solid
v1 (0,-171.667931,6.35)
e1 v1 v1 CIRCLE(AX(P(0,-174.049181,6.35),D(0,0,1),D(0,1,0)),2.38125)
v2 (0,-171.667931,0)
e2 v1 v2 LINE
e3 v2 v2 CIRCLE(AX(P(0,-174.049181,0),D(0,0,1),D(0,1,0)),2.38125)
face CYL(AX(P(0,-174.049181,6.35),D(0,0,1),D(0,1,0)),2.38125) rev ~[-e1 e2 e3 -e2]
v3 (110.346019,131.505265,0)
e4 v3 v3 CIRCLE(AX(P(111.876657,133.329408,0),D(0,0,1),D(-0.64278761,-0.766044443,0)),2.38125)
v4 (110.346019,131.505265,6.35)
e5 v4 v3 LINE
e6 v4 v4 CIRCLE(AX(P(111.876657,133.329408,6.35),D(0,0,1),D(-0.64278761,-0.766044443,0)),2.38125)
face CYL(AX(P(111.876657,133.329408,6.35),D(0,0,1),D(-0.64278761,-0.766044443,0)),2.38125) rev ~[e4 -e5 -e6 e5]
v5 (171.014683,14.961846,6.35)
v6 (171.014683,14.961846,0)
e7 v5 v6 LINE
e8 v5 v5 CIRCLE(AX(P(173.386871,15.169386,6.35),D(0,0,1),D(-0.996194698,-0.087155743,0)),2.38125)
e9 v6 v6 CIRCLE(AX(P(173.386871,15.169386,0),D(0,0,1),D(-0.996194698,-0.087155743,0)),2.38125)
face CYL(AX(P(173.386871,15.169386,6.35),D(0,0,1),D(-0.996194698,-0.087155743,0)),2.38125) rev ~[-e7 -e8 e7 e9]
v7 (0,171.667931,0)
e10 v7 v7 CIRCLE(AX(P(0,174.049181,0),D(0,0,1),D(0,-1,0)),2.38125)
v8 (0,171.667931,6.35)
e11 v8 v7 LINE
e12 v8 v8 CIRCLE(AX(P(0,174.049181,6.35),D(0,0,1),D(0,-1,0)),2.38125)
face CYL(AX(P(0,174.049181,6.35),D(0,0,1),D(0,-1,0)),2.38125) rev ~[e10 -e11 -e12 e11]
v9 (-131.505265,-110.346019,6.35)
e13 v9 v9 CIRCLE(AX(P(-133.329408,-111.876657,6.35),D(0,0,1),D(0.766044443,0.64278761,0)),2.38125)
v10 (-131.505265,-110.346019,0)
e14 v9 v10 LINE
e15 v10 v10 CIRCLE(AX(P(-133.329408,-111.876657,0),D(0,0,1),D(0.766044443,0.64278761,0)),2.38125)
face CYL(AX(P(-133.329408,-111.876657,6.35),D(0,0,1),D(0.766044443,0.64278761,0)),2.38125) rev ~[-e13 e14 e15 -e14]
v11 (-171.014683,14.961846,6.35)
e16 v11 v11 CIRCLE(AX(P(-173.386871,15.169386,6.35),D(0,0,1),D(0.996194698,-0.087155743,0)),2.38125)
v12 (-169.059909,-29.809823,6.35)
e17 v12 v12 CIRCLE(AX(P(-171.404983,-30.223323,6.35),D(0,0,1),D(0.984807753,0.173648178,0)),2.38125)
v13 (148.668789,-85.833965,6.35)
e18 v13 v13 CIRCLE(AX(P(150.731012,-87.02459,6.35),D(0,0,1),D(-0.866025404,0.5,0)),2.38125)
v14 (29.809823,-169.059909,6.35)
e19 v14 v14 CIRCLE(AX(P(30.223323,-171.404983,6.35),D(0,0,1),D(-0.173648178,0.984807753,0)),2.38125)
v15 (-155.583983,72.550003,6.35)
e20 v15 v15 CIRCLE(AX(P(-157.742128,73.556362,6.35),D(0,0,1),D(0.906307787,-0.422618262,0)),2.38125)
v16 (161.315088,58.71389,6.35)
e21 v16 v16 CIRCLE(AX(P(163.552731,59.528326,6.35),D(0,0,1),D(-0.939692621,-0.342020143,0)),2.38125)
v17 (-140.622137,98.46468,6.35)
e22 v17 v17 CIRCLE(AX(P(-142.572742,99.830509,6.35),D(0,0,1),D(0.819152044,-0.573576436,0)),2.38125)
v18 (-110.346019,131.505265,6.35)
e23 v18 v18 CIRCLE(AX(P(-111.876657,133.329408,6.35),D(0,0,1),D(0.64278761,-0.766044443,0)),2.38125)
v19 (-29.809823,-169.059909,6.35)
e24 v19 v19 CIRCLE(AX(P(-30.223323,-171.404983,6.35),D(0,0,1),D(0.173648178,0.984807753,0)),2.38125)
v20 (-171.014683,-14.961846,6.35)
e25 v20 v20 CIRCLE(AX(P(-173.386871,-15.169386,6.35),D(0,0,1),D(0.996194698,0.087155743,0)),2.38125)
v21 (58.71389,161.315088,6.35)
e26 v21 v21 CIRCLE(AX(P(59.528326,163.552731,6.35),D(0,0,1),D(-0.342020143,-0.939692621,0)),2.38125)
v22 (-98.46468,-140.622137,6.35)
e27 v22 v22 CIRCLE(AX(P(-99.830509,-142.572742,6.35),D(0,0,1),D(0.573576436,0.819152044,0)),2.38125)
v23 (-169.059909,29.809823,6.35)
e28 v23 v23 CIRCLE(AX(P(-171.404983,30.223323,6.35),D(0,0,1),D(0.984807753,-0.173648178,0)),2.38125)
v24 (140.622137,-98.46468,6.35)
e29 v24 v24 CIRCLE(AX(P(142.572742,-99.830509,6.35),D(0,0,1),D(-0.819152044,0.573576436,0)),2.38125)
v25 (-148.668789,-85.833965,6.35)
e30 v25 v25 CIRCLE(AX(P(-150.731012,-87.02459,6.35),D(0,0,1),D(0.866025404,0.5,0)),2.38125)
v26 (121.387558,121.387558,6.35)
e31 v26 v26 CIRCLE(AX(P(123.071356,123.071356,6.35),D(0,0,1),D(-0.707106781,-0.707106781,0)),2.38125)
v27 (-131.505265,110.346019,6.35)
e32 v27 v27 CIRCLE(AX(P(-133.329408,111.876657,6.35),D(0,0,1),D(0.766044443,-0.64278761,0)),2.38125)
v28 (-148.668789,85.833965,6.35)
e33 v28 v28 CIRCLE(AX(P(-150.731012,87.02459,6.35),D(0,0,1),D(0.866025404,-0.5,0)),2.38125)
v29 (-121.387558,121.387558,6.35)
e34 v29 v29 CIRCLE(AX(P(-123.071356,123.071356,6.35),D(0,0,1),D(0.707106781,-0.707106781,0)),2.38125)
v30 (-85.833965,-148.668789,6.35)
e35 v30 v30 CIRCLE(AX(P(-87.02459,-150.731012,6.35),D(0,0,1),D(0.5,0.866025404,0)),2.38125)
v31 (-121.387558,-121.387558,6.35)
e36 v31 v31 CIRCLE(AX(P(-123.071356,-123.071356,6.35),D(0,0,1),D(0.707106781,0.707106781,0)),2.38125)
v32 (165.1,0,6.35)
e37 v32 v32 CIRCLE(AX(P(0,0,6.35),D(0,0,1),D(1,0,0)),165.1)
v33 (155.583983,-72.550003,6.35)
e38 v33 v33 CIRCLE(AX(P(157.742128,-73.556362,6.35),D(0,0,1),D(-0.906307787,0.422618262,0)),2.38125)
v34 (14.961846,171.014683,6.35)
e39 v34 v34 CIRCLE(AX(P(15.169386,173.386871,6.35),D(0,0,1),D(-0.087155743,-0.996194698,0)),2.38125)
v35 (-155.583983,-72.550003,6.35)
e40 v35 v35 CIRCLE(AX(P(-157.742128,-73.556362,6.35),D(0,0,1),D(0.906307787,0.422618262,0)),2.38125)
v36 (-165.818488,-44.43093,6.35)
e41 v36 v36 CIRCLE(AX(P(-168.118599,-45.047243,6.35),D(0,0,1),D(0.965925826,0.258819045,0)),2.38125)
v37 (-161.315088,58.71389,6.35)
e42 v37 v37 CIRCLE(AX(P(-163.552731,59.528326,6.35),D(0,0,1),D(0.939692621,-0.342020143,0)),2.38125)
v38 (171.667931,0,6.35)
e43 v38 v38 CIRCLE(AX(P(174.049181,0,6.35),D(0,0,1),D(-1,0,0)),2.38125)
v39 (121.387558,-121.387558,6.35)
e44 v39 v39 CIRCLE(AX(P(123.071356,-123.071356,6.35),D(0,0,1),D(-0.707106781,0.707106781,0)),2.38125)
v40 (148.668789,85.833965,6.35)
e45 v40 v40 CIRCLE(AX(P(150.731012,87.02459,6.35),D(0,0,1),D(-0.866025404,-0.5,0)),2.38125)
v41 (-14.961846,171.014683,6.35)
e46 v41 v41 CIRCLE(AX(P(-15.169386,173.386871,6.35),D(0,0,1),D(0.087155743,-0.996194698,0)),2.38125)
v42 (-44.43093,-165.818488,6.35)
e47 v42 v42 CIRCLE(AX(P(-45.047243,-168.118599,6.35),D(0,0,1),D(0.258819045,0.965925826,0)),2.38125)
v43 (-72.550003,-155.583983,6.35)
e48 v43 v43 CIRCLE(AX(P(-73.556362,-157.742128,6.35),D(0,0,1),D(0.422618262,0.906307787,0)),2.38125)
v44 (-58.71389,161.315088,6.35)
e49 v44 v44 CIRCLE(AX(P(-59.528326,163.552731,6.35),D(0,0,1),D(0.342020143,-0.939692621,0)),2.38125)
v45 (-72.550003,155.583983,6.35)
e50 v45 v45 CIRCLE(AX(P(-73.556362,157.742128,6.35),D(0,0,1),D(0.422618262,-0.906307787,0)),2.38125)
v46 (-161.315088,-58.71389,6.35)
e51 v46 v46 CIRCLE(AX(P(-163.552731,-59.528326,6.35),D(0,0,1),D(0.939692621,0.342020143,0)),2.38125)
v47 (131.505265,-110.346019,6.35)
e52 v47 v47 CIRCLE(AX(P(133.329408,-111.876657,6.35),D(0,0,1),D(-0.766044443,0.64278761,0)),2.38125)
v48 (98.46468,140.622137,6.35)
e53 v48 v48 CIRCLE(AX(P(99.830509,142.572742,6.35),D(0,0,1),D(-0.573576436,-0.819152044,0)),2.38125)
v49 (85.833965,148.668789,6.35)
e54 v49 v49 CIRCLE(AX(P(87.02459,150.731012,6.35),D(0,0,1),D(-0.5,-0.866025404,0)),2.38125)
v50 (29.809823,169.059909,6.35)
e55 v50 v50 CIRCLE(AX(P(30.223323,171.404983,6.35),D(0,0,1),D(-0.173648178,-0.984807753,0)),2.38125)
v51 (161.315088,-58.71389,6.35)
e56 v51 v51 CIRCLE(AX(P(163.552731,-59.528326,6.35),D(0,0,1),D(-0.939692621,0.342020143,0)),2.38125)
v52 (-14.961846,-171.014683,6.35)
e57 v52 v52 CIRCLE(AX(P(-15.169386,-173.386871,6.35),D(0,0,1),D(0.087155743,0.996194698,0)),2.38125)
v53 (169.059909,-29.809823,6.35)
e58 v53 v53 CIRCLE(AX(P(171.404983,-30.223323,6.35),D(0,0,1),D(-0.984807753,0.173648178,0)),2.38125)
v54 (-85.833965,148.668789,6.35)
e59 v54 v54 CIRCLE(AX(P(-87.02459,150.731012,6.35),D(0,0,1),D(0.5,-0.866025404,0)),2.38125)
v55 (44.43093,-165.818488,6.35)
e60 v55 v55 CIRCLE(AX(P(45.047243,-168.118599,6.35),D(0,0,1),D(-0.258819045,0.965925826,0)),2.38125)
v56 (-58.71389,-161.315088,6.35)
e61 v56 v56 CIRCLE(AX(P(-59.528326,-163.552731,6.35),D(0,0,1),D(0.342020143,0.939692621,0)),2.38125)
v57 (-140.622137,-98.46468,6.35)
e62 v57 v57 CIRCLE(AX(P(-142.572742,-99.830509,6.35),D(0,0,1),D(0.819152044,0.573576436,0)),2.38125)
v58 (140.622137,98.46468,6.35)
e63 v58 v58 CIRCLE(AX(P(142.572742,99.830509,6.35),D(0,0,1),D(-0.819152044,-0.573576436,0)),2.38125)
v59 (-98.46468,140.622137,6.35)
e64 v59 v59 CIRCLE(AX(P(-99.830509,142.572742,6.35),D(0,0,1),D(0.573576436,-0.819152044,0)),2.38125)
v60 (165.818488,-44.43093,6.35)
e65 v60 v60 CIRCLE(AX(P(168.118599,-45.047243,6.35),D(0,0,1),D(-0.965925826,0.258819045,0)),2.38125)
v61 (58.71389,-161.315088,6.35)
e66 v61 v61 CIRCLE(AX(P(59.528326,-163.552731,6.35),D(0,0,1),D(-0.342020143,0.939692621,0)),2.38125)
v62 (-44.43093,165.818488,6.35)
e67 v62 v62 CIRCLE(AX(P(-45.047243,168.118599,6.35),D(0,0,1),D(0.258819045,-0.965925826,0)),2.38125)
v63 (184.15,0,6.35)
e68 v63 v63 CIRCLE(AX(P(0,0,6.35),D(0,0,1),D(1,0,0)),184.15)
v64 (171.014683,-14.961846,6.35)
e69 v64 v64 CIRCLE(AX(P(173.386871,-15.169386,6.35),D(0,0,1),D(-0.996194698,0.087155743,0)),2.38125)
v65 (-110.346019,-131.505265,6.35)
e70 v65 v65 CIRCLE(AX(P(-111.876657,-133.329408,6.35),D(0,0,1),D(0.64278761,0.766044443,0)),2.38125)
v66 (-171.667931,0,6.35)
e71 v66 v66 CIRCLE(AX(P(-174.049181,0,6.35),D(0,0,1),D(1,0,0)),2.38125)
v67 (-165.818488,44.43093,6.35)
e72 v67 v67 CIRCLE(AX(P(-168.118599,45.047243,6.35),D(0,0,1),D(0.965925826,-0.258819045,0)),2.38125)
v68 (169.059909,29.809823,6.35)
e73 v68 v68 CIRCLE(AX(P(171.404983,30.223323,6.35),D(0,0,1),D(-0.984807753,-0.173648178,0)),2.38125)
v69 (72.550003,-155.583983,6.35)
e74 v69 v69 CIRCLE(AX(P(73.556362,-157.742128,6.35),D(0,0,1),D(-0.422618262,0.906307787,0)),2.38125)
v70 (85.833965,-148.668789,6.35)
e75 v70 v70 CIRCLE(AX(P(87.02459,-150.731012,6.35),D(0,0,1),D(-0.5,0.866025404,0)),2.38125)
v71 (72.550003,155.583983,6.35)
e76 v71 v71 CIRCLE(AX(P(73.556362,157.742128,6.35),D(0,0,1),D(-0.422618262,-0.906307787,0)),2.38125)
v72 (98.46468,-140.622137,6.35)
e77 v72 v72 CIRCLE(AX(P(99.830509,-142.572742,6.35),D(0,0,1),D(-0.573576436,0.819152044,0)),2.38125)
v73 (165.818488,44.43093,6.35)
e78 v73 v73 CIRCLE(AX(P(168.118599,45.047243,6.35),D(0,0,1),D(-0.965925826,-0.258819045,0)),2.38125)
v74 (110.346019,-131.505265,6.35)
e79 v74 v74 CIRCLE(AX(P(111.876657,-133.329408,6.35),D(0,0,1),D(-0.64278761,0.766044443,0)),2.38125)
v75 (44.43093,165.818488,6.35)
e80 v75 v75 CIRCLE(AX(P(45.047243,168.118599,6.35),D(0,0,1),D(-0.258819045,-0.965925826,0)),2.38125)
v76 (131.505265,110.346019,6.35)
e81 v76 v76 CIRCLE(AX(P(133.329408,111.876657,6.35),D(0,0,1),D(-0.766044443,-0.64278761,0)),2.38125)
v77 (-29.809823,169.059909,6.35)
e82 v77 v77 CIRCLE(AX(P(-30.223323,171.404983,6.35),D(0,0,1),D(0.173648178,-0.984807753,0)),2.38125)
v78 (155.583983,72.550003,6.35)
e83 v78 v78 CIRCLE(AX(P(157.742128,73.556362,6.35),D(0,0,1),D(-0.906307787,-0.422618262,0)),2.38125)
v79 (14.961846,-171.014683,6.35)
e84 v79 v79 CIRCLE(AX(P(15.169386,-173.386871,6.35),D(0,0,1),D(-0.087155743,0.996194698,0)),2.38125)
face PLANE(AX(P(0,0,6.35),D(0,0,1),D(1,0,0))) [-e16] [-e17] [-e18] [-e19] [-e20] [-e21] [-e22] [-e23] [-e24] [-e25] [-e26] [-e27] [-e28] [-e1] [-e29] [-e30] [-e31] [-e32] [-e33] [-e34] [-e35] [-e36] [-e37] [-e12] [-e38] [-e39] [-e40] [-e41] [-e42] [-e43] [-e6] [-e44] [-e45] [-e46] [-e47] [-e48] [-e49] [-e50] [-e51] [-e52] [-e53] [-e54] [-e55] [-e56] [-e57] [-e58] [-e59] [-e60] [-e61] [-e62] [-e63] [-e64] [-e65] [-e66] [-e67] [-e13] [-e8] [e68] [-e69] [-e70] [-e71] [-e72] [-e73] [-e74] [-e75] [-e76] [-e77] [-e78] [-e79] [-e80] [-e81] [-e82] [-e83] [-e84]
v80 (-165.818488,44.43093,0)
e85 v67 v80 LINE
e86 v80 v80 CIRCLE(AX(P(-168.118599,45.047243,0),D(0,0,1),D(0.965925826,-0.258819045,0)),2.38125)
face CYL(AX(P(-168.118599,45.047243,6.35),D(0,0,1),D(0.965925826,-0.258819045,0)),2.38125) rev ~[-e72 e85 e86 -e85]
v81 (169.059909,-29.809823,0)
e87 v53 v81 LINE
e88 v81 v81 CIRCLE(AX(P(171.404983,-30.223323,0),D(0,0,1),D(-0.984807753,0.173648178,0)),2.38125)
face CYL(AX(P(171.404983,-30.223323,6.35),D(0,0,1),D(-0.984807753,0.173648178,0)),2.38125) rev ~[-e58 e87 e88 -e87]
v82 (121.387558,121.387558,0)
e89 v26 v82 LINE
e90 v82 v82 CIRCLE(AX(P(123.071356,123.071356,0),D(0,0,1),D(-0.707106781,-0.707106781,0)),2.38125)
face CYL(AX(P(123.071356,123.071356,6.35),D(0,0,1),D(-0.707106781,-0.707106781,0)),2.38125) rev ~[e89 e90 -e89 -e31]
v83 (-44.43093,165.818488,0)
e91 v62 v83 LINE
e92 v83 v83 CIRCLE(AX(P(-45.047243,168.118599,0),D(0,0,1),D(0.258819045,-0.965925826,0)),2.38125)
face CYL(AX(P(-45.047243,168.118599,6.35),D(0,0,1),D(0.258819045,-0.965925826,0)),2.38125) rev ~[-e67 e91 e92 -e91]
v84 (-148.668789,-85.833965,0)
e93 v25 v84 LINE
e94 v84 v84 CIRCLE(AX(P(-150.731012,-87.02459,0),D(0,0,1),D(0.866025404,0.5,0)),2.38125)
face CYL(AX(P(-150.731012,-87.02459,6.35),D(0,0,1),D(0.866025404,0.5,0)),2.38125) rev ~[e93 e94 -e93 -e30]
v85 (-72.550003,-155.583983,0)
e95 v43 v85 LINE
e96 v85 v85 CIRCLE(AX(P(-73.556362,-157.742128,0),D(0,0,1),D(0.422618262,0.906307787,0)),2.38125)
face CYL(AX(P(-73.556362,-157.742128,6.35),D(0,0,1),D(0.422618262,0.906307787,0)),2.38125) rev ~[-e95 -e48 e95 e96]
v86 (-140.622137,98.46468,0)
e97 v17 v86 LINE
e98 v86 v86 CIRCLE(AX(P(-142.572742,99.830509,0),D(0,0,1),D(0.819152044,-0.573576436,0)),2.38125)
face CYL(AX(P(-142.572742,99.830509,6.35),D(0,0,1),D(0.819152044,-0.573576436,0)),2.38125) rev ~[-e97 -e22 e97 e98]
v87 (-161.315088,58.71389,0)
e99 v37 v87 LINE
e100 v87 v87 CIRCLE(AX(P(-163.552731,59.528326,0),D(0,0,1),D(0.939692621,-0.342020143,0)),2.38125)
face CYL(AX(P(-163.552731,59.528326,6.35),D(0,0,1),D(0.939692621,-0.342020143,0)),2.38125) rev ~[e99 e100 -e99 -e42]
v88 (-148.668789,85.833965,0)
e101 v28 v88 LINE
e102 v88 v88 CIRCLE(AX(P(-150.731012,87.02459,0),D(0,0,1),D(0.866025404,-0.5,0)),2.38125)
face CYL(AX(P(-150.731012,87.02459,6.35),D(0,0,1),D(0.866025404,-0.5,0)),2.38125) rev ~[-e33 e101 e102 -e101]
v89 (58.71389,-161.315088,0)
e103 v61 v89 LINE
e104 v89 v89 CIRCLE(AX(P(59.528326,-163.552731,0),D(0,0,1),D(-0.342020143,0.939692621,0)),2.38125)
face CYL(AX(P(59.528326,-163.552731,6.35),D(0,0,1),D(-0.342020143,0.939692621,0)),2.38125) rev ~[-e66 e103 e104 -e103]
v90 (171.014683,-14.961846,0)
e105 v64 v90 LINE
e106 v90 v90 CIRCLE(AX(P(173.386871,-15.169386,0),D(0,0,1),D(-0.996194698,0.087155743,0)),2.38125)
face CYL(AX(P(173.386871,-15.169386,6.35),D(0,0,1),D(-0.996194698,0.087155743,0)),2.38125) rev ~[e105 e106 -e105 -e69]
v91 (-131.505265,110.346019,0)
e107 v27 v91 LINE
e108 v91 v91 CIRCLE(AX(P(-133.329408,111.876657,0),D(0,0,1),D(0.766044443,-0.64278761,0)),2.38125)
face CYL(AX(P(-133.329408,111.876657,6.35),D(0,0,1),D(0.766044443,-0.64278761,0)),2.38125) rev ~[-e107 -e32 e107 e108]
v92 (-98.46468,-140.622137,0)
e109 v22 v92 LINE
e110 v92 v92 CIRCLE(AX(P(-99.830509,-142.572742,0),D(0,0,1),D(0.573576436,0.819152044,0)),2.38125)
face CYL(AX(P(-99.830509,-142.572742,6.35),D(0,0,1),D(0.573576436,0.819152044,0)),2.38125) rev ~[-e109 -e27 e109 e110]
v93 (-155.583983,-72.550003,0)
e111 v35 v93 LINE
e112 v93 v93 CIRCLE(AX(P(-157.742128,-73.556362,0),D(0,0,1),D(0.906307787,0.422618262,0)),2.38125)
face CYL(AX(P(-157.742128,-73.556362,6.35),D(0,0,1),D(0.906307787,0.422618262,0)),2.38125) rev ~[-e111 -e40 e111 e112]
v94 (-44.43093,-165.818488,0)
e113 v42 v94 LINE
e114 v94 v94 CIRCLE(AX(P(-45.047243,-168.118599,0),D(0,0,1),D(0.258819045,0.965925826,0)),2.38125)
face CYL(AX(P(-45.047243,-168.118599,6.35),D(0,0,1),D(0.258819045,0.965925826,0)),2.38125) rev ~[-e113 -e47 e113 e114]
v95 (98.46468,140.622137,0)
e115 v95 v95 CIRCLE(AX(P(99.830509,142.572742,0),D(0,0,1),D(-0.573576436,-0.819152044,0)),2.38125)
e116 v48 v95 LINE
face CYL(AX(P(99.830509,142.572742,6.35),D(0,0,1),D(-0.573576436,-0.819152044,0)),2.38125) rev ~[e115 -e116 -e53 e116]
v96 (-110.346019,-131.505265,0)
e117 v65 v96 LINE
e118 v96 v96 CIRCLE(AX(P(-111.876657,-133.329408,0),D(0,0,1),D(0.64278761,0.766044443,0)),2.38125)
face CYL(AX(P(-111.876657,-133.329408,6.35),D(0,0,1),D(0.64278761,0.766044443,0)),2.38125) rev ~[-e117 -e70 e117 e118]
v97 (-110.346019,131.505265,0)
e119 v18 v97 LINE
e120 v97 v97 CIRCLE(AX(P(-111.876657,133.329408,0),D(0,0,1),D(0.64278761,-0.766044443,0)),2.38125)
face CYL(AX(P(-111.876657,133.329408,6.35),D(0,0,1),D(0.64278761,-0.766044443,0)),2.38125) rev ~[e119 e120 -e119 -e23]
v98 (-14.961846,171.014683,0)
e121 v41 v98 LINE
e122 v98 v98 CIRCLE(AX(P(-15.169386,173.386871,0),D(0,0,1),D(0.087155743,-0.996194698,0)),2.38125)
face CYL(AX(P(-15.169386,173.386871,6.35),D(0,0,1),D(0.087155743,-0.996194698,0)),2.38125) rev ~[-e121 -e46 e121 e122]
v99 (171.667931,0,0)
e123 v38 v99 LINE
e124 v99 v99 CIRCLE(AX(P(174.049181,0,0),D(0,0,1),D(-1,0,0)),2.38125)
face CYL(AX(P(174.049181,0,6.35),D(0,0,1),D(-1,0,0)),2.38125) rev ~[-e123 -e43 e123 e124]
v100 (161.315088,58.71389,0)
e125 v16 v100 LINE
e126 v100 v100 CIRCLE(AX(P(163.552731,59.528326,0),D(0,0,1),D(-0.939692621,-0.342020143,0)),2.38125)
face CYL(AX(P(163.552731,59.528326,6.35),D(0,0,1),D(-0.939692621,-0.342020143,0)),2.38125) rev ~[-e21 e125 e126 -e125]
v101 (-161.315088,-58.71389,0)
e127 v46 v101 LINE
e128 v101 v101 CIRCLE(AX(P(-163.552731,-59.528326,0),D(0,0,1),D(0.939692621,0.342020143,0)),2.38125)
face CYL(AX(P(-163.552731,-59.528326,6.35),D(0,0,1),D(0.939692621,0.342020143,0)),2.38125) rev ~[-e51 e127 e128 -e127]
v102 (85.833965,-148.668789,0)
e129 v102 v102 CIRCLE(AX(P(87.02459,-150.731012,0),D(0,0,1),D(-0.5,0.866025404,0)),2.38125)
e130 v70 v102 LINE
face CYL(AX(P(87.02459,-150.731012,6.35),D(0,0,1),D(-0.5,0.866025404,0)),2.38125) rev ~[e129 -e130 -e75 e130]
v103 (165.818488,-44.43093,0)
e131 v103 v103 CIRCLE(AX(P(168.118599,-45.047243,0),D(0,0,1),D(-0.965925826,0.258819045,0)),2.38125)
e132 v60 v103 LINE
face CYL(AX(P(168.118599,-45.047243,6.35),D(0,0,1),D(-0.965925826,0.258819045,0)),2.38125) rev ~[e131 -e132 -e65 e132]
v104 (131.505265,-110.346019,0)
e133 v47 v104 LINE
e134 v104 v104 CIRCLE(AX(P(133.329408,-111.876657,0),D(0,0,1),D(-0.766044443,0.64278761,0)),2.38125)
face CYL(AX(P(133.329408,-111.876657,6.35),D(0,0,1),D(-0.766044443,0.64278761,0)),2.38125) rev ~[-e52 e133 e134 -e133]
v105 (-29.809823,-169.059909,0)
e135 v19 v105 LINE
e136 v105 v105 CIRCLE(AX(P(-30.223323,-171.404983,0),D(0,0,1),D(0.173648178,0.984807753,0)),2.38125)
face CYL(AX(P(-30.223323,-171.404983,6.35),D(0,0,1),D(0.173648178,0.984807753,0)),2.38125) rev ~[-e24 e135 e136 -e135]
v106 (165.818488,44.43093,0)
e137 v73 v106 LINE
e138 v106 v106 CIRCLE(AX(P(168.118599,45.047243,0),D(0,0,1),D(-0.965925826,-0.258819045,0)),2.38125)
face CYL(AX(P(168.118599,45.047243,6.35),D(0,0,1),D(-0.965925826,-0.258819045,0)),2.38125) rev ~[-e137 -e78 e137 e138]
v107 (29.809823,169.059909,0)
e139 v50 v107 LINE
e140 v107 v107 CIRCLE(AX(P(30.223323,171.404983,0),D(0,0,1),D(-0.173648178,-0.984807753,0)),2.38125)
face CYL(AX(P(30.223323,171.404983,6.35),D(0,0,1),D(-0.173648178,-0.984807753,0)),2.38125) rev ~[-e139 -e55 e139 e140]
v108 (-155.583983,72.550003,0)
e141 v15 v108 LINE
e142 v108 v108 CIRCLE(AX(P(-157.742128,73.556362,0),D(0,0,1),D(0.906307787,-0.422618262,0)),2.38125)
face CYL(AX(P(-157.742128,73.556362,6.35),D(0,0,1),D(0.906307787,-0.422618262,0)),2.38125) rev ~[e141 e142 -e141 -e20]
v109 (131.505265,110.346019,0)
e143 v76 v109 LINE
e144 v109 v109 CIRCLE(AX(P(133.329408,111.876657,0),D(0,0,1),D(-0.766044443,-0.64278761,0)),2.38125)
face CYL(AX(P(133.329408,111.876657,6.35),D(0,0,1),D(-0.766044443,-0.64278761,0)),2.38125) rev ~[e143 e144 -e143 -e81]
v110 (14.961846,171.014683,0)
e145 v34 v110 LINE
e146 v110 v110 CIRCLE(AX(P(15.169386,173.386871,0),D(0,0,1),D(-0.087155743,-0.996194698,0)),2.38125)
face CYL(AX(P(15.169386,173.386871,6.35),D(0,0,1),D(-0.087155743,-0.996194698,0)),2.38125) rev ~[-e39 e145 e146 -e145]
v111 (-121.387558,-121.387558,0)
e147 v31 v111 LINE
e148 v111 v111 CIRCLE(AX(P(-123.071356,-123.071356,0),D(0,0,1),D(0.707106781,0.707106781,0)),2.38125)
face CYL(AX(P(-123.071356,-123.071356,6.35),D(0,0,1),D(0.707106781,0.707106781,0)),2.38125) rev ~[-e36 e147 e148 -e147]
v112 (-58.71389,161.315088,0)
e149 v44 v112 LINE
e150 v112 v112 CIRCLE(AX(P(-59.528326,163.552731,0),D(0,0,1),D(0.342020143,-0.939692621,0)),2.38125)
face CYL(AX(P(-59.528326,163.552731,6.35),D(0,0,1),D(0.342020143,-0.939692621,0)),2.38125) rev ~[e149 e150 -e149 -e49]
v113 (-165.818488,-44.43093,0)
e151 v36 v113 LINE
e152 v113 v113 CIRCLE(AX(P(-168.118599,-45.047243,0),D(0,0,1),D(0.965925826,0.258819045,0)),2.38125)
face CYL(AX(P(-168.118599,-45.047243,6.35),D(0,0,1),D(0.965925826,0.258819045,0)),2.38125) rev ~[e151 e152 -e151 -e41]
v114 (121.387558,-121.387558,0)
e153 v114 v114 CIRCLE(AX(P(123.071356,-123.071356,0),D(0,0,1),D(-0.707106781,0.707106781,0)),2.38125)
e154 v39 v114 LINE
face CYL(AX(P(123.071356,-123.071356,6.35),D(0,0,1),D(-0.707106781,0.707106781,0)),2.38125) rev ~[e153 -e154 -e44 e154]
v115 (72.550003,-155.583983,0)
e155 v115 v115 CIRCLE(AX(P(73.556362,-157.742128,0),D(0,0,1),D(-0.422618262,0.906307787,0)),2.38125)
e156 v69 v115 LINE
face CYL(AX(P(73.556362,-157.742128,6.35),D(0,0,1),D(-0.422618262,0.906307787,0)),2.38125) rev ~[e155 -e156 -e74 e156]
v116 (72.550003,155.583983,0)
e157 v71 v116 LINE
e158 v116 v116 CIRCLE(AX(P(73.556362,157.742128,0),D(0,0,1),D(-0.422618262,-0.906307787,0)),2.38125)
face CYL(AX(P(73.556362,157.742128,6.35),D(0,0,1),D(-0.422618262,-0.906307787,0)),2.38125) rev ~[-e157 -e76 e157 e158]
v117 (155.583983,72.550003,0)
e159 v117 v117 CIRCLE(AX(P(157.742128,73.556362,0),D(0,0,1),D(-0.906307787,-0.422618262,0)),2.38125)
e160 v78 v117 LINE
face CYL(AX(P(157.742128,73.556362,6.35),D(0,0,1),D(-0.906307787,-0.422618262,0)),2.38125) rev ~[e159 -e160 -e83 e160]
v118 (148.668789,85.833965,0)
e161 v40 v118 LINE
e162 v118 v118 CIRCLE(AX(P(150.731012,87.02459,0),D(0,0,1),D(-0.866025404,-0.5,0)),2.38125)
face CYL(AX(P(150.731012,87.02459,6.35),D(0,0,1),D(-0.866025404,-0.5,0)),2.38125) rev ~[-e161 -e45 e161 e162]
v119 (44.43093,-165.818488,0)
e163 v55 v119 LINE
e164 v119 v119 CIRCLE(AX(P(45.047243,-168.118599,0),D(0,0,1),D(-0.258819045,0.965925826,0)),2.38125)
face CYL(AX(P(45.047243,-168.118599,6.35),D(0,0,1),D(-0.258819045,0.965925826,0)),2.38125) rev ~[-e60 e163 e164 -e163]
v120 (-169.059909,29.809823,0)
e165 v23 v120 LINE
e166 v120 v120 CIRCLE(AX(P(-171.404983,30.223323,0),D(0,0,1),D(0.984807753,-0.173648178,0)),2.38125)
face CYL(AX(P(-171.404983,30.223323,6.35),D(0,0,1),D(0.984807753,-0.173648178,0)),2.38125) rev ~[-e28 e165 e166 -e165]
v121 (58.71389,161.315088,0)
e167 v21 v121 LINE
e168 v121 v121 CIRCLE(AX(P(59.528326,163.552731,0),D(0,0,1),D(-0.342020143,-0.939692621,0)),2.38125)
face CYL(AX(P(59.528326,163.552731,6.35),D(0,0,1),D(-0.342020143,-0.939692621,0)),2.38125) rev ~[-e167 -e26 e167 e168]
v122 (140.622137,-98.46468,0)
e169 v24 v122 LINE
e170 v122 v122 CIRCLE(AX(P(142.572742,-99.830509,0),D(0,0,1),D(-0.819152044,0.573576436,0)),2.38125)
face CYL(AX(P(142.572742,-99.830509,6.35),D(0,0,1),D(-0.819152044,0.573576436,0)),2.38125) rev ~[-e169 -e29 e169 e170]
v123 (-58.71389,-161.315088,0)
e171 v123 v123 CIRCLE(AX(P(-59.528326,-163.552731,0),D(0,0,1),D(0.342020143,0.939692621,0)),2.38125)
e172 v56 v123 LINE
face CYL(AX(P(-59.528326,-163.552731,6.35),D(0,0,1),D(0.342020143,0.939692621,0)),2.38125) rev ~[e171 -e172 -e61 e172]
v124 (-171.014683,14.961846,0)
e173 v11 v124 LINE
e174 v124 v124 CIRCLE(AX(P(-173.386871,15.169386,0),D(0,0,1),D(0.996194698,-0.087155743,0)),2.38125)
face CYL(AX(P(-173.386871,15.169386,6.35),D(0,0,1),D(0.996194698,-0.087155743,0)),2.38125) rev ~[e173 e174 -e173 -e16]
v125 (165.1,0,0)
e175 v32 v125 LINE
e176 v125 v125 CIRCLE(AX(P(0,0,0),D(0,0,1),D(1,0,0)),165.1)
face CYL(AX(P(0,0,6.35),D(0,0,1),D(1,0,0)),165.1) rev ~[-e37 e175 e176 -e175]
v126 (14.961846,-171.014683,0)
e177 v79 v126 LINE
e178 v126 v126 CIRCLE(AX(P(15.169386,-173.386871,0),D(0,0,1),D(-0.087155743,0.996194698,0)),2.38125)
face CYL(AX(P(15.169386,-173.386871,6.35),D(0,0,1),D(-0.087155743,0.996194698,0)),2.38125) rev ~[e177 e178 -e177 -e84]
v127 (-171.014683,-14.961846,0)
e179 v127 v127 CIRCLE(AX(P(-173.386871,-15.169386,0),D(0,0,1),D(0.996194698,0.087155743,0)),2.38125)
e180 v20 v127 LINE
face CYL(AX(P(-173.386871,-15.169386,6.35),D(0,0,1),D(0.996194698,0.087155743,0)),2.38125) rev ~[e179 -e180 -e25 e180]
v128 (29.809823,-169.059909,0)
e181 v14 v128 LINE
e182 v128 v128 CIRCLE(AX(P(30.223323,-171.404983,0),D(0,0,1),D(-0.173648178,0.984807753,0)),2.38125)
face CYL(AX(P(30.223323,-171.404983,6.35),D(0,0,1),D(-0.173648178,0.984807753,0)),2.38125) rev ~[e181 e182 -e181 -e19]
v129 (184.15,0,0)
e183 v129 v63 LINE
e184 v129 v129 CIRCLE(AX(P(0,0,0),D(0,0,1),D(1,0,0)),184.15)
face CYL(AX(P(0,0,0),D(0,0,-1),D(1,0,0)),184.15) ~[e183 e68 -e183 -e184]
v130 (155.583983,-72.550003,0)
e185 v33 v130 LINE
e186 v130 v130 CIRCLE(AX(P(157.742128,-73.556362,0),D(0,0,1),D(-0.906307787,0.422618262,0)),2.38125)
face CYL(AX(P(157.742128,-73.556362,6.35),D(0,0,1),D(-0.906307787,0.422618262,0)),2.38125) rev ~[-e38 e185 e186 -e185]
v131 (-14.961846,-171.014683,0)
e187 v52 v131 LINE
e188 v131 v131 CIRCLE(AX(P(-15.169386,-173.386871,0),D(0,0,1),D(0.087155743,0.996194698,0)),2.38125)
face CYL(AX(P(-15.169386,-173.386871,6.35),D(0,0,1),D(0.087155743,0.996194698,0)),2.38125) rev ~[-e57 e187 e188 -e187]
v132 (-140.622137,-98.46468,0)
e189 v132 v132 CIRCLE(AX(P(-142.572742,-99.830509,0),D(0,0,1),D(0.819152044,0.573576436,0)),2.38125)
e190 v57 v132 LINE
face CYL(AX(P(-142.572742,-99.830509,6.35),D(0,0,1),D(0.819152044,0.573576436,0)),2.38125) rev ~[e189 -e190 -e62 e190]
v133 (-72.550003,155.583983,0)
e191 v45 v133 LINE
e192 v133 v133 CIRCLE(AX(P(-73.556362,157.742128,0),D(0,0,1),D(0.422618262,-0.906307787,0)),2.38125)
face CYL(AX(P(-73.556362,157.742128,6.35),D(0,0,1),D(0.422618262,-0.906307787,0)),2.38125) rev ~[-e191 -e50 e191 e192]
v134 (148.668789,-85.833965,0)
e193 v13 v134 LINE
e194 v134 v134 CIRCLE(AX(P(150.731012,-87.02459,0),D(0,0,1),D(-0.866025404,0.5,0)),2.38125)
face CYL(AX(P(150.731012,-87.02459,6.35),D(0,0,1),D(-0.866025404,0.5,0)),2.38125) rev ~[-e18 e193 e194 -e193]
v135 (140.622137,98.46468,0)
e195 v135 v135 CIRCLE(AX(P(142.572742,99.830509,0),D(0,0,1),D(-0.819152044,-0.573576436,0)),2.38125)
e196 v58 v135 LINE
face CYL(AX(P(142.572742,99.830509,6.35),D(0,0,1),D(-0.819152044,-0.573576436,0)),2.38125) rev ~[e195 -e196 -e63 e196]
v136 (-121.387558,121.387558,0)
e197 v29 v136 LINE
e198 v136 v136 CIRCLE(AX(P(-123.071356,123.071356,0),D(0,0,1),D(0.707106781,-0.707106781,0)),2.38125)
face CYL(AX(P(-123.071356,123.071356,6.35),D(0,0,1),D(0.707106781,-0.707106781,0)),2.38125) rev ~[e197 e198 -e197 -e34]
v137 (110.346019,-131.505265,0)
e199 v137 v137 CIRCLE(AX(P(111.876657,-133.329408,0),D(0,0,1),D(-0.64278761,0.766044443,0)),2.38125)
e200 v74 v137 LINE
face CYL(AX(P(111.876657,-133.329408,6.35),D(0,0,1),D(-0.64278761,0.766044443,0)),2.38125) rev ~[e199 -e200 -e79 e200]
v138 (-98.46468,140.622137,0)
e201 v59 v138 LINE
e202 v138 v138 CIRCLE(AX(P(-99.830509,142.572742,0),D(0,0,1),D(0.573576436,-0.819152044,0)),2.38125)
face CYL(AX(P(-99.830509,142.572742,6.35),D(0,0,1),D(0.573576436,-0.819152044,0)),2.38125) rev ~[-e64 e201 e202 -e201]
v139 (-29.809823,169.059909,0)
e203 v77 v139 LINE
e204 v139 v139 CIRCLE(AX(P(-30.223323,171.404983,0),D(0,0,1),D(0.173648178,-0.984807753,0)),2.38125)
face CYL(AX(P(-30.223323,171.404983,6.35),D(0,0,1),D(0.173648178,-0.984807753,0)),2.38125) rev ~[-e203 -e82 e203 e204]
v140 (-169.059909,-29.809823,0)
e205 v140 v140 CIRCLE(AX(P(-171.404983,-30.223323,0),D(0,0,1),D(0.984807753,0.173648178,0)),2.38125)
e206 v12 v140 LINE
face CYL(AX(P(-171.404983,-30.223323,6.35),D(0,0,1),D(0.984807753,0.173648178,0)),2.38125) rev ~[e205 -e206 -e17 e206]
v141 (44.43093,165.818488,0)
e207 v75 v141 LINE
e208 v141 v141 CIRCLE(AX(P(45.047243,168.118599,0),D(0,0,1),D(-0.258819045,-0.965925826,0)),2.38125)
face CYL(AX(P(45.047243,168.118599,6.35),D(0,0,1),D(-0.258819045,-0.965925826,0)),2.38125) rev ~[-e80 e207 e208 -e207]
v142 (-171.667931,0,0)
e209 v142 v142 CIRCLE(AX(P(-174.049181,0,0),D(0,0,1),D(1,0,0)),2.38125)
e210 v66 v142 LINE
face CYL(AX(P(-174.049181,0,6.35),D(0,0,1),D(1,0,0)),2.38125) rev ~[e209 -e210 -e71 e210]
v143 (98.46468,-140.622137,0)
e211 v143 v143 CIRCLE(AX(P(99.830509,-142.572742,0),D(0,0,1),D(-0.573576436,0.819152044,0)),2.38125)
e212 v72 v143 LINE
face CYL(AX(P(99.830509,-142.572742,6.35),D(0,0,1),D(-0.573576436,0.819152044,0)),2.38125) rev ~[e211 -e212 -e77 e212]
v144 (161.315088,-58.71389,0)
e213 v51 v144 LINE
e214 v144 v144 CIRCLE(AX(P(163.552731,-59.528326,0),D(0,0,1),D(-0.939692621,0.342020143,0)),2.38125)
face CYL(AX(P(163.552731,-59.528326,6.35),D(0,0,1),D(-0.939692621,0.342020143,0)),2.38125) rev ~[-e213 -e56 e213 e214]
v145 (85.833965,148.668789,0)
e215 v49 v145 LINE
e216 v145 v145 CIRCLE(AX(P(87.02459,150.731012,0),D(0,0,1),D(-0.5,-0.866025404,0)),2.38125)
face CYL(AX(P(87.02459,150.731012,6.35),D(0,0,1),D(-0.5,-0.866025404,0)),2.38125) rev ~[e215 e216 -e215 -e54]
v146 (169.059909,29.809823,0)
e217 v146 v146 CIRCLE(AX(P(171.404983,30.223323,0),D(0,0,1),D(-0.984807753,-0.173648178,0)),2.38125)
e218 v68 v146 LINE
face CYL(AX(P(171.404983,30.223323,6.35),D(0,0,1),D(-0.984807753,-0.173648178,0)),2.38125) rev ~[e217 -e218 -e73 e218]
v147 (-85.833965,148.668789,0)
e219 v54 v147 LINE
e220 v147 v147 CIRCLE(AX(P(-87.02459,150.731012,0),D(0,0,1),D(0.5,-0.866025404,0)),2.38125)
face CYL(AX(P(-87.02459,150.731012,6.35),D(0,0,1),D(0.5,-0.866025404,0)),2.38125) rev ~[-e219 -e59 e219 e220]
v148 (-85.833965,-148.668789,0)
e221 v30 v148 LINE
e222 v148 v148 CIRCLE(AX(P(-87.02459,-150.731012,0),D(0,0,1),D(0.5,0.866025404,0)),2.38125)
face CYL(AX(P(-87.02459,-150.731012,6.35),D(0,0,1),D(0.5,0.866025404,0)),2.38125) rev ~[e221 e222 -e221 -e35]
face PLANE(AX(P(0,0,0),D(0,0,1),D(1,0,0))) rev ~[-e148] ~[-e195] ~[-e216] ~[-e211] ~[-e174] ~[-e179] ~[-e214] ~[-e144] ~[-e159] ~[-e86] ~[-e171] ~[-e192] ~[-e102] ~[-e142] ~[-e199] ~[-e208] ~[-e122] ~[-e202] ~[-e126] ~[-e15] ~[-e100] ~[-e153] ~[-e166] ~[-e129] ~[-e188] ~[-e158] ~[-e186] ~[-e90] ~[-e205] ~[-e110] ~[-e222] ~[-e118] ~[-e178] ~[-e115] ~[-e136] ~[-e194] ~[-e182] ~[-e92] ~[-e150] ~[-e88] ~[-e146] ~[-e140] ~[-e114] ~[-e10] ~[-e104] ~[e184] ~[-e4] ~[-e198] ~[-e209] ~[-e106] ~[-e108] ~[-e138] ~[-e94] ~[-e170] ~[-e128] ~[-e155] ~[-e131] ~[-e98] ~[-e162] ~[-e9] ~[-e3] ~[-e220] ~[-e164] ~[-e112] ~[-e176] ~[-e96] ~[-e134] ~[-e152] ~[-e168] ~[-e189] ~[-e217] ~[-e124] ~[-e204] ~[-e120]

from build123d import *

# Parameters (mm, degrees)
SKETCH2_R           = 184.15
BOSS_EXTRUDE1_DEPTH = 6.35
SKETCH8_R           = 165.1
CUT_EXTRUDE3_DEPTH  = 261.504832009
SKETCH9_R           = 2.38125
CUT_EXTRUDE4_DEPTH  = 261.504832009
CIRPATTERN1_COUNT   = 72


with BuildPart() as part:
    # Sketch2 → Boss-Extrude1 (new body)
    with BuildSketch(Plane.XY):
        Circle(SKETCH2_R)
    extrude(amount=BOSS_EXTRUDE1_DEPTH)

    # Sketch8 → Cut-Extrude3 (cut, through all)
    with BuildSketch(Plane.XY.offset(6.35)):
        Circle(SKETCH8_R)
    extrude(amount=-CUT_EXTRUDE3_DEPTH, mode=Mode.SUBTRACT)

    # Sketch9 → Cut-Extrude4 (cut, through all)
    with BuildSketch(Plane.XY.offset(6.35)):
        with Locations((-174.049180881, 0)):
            Circle(SKETCH9_R)
    cut_extrude4 = extrude(amount=-CUT_EXTRUDE4_DEPTH, mode=Mode.SUBTRACT)

    # CirPattern1: Cut-Extrude4 ×72 about axis
    cirpattern1_axis = Axis((0, 0, 0), (0, 0, 1))
    for i in range(1, CIRPATTERN1_COUNT):
        add(cut_extrude4.rotate(cirpattern1_axis, i * 360 / CIRPATTERN1_COUNT), mode=Mode.SUBTRACT)


solid = part.part
